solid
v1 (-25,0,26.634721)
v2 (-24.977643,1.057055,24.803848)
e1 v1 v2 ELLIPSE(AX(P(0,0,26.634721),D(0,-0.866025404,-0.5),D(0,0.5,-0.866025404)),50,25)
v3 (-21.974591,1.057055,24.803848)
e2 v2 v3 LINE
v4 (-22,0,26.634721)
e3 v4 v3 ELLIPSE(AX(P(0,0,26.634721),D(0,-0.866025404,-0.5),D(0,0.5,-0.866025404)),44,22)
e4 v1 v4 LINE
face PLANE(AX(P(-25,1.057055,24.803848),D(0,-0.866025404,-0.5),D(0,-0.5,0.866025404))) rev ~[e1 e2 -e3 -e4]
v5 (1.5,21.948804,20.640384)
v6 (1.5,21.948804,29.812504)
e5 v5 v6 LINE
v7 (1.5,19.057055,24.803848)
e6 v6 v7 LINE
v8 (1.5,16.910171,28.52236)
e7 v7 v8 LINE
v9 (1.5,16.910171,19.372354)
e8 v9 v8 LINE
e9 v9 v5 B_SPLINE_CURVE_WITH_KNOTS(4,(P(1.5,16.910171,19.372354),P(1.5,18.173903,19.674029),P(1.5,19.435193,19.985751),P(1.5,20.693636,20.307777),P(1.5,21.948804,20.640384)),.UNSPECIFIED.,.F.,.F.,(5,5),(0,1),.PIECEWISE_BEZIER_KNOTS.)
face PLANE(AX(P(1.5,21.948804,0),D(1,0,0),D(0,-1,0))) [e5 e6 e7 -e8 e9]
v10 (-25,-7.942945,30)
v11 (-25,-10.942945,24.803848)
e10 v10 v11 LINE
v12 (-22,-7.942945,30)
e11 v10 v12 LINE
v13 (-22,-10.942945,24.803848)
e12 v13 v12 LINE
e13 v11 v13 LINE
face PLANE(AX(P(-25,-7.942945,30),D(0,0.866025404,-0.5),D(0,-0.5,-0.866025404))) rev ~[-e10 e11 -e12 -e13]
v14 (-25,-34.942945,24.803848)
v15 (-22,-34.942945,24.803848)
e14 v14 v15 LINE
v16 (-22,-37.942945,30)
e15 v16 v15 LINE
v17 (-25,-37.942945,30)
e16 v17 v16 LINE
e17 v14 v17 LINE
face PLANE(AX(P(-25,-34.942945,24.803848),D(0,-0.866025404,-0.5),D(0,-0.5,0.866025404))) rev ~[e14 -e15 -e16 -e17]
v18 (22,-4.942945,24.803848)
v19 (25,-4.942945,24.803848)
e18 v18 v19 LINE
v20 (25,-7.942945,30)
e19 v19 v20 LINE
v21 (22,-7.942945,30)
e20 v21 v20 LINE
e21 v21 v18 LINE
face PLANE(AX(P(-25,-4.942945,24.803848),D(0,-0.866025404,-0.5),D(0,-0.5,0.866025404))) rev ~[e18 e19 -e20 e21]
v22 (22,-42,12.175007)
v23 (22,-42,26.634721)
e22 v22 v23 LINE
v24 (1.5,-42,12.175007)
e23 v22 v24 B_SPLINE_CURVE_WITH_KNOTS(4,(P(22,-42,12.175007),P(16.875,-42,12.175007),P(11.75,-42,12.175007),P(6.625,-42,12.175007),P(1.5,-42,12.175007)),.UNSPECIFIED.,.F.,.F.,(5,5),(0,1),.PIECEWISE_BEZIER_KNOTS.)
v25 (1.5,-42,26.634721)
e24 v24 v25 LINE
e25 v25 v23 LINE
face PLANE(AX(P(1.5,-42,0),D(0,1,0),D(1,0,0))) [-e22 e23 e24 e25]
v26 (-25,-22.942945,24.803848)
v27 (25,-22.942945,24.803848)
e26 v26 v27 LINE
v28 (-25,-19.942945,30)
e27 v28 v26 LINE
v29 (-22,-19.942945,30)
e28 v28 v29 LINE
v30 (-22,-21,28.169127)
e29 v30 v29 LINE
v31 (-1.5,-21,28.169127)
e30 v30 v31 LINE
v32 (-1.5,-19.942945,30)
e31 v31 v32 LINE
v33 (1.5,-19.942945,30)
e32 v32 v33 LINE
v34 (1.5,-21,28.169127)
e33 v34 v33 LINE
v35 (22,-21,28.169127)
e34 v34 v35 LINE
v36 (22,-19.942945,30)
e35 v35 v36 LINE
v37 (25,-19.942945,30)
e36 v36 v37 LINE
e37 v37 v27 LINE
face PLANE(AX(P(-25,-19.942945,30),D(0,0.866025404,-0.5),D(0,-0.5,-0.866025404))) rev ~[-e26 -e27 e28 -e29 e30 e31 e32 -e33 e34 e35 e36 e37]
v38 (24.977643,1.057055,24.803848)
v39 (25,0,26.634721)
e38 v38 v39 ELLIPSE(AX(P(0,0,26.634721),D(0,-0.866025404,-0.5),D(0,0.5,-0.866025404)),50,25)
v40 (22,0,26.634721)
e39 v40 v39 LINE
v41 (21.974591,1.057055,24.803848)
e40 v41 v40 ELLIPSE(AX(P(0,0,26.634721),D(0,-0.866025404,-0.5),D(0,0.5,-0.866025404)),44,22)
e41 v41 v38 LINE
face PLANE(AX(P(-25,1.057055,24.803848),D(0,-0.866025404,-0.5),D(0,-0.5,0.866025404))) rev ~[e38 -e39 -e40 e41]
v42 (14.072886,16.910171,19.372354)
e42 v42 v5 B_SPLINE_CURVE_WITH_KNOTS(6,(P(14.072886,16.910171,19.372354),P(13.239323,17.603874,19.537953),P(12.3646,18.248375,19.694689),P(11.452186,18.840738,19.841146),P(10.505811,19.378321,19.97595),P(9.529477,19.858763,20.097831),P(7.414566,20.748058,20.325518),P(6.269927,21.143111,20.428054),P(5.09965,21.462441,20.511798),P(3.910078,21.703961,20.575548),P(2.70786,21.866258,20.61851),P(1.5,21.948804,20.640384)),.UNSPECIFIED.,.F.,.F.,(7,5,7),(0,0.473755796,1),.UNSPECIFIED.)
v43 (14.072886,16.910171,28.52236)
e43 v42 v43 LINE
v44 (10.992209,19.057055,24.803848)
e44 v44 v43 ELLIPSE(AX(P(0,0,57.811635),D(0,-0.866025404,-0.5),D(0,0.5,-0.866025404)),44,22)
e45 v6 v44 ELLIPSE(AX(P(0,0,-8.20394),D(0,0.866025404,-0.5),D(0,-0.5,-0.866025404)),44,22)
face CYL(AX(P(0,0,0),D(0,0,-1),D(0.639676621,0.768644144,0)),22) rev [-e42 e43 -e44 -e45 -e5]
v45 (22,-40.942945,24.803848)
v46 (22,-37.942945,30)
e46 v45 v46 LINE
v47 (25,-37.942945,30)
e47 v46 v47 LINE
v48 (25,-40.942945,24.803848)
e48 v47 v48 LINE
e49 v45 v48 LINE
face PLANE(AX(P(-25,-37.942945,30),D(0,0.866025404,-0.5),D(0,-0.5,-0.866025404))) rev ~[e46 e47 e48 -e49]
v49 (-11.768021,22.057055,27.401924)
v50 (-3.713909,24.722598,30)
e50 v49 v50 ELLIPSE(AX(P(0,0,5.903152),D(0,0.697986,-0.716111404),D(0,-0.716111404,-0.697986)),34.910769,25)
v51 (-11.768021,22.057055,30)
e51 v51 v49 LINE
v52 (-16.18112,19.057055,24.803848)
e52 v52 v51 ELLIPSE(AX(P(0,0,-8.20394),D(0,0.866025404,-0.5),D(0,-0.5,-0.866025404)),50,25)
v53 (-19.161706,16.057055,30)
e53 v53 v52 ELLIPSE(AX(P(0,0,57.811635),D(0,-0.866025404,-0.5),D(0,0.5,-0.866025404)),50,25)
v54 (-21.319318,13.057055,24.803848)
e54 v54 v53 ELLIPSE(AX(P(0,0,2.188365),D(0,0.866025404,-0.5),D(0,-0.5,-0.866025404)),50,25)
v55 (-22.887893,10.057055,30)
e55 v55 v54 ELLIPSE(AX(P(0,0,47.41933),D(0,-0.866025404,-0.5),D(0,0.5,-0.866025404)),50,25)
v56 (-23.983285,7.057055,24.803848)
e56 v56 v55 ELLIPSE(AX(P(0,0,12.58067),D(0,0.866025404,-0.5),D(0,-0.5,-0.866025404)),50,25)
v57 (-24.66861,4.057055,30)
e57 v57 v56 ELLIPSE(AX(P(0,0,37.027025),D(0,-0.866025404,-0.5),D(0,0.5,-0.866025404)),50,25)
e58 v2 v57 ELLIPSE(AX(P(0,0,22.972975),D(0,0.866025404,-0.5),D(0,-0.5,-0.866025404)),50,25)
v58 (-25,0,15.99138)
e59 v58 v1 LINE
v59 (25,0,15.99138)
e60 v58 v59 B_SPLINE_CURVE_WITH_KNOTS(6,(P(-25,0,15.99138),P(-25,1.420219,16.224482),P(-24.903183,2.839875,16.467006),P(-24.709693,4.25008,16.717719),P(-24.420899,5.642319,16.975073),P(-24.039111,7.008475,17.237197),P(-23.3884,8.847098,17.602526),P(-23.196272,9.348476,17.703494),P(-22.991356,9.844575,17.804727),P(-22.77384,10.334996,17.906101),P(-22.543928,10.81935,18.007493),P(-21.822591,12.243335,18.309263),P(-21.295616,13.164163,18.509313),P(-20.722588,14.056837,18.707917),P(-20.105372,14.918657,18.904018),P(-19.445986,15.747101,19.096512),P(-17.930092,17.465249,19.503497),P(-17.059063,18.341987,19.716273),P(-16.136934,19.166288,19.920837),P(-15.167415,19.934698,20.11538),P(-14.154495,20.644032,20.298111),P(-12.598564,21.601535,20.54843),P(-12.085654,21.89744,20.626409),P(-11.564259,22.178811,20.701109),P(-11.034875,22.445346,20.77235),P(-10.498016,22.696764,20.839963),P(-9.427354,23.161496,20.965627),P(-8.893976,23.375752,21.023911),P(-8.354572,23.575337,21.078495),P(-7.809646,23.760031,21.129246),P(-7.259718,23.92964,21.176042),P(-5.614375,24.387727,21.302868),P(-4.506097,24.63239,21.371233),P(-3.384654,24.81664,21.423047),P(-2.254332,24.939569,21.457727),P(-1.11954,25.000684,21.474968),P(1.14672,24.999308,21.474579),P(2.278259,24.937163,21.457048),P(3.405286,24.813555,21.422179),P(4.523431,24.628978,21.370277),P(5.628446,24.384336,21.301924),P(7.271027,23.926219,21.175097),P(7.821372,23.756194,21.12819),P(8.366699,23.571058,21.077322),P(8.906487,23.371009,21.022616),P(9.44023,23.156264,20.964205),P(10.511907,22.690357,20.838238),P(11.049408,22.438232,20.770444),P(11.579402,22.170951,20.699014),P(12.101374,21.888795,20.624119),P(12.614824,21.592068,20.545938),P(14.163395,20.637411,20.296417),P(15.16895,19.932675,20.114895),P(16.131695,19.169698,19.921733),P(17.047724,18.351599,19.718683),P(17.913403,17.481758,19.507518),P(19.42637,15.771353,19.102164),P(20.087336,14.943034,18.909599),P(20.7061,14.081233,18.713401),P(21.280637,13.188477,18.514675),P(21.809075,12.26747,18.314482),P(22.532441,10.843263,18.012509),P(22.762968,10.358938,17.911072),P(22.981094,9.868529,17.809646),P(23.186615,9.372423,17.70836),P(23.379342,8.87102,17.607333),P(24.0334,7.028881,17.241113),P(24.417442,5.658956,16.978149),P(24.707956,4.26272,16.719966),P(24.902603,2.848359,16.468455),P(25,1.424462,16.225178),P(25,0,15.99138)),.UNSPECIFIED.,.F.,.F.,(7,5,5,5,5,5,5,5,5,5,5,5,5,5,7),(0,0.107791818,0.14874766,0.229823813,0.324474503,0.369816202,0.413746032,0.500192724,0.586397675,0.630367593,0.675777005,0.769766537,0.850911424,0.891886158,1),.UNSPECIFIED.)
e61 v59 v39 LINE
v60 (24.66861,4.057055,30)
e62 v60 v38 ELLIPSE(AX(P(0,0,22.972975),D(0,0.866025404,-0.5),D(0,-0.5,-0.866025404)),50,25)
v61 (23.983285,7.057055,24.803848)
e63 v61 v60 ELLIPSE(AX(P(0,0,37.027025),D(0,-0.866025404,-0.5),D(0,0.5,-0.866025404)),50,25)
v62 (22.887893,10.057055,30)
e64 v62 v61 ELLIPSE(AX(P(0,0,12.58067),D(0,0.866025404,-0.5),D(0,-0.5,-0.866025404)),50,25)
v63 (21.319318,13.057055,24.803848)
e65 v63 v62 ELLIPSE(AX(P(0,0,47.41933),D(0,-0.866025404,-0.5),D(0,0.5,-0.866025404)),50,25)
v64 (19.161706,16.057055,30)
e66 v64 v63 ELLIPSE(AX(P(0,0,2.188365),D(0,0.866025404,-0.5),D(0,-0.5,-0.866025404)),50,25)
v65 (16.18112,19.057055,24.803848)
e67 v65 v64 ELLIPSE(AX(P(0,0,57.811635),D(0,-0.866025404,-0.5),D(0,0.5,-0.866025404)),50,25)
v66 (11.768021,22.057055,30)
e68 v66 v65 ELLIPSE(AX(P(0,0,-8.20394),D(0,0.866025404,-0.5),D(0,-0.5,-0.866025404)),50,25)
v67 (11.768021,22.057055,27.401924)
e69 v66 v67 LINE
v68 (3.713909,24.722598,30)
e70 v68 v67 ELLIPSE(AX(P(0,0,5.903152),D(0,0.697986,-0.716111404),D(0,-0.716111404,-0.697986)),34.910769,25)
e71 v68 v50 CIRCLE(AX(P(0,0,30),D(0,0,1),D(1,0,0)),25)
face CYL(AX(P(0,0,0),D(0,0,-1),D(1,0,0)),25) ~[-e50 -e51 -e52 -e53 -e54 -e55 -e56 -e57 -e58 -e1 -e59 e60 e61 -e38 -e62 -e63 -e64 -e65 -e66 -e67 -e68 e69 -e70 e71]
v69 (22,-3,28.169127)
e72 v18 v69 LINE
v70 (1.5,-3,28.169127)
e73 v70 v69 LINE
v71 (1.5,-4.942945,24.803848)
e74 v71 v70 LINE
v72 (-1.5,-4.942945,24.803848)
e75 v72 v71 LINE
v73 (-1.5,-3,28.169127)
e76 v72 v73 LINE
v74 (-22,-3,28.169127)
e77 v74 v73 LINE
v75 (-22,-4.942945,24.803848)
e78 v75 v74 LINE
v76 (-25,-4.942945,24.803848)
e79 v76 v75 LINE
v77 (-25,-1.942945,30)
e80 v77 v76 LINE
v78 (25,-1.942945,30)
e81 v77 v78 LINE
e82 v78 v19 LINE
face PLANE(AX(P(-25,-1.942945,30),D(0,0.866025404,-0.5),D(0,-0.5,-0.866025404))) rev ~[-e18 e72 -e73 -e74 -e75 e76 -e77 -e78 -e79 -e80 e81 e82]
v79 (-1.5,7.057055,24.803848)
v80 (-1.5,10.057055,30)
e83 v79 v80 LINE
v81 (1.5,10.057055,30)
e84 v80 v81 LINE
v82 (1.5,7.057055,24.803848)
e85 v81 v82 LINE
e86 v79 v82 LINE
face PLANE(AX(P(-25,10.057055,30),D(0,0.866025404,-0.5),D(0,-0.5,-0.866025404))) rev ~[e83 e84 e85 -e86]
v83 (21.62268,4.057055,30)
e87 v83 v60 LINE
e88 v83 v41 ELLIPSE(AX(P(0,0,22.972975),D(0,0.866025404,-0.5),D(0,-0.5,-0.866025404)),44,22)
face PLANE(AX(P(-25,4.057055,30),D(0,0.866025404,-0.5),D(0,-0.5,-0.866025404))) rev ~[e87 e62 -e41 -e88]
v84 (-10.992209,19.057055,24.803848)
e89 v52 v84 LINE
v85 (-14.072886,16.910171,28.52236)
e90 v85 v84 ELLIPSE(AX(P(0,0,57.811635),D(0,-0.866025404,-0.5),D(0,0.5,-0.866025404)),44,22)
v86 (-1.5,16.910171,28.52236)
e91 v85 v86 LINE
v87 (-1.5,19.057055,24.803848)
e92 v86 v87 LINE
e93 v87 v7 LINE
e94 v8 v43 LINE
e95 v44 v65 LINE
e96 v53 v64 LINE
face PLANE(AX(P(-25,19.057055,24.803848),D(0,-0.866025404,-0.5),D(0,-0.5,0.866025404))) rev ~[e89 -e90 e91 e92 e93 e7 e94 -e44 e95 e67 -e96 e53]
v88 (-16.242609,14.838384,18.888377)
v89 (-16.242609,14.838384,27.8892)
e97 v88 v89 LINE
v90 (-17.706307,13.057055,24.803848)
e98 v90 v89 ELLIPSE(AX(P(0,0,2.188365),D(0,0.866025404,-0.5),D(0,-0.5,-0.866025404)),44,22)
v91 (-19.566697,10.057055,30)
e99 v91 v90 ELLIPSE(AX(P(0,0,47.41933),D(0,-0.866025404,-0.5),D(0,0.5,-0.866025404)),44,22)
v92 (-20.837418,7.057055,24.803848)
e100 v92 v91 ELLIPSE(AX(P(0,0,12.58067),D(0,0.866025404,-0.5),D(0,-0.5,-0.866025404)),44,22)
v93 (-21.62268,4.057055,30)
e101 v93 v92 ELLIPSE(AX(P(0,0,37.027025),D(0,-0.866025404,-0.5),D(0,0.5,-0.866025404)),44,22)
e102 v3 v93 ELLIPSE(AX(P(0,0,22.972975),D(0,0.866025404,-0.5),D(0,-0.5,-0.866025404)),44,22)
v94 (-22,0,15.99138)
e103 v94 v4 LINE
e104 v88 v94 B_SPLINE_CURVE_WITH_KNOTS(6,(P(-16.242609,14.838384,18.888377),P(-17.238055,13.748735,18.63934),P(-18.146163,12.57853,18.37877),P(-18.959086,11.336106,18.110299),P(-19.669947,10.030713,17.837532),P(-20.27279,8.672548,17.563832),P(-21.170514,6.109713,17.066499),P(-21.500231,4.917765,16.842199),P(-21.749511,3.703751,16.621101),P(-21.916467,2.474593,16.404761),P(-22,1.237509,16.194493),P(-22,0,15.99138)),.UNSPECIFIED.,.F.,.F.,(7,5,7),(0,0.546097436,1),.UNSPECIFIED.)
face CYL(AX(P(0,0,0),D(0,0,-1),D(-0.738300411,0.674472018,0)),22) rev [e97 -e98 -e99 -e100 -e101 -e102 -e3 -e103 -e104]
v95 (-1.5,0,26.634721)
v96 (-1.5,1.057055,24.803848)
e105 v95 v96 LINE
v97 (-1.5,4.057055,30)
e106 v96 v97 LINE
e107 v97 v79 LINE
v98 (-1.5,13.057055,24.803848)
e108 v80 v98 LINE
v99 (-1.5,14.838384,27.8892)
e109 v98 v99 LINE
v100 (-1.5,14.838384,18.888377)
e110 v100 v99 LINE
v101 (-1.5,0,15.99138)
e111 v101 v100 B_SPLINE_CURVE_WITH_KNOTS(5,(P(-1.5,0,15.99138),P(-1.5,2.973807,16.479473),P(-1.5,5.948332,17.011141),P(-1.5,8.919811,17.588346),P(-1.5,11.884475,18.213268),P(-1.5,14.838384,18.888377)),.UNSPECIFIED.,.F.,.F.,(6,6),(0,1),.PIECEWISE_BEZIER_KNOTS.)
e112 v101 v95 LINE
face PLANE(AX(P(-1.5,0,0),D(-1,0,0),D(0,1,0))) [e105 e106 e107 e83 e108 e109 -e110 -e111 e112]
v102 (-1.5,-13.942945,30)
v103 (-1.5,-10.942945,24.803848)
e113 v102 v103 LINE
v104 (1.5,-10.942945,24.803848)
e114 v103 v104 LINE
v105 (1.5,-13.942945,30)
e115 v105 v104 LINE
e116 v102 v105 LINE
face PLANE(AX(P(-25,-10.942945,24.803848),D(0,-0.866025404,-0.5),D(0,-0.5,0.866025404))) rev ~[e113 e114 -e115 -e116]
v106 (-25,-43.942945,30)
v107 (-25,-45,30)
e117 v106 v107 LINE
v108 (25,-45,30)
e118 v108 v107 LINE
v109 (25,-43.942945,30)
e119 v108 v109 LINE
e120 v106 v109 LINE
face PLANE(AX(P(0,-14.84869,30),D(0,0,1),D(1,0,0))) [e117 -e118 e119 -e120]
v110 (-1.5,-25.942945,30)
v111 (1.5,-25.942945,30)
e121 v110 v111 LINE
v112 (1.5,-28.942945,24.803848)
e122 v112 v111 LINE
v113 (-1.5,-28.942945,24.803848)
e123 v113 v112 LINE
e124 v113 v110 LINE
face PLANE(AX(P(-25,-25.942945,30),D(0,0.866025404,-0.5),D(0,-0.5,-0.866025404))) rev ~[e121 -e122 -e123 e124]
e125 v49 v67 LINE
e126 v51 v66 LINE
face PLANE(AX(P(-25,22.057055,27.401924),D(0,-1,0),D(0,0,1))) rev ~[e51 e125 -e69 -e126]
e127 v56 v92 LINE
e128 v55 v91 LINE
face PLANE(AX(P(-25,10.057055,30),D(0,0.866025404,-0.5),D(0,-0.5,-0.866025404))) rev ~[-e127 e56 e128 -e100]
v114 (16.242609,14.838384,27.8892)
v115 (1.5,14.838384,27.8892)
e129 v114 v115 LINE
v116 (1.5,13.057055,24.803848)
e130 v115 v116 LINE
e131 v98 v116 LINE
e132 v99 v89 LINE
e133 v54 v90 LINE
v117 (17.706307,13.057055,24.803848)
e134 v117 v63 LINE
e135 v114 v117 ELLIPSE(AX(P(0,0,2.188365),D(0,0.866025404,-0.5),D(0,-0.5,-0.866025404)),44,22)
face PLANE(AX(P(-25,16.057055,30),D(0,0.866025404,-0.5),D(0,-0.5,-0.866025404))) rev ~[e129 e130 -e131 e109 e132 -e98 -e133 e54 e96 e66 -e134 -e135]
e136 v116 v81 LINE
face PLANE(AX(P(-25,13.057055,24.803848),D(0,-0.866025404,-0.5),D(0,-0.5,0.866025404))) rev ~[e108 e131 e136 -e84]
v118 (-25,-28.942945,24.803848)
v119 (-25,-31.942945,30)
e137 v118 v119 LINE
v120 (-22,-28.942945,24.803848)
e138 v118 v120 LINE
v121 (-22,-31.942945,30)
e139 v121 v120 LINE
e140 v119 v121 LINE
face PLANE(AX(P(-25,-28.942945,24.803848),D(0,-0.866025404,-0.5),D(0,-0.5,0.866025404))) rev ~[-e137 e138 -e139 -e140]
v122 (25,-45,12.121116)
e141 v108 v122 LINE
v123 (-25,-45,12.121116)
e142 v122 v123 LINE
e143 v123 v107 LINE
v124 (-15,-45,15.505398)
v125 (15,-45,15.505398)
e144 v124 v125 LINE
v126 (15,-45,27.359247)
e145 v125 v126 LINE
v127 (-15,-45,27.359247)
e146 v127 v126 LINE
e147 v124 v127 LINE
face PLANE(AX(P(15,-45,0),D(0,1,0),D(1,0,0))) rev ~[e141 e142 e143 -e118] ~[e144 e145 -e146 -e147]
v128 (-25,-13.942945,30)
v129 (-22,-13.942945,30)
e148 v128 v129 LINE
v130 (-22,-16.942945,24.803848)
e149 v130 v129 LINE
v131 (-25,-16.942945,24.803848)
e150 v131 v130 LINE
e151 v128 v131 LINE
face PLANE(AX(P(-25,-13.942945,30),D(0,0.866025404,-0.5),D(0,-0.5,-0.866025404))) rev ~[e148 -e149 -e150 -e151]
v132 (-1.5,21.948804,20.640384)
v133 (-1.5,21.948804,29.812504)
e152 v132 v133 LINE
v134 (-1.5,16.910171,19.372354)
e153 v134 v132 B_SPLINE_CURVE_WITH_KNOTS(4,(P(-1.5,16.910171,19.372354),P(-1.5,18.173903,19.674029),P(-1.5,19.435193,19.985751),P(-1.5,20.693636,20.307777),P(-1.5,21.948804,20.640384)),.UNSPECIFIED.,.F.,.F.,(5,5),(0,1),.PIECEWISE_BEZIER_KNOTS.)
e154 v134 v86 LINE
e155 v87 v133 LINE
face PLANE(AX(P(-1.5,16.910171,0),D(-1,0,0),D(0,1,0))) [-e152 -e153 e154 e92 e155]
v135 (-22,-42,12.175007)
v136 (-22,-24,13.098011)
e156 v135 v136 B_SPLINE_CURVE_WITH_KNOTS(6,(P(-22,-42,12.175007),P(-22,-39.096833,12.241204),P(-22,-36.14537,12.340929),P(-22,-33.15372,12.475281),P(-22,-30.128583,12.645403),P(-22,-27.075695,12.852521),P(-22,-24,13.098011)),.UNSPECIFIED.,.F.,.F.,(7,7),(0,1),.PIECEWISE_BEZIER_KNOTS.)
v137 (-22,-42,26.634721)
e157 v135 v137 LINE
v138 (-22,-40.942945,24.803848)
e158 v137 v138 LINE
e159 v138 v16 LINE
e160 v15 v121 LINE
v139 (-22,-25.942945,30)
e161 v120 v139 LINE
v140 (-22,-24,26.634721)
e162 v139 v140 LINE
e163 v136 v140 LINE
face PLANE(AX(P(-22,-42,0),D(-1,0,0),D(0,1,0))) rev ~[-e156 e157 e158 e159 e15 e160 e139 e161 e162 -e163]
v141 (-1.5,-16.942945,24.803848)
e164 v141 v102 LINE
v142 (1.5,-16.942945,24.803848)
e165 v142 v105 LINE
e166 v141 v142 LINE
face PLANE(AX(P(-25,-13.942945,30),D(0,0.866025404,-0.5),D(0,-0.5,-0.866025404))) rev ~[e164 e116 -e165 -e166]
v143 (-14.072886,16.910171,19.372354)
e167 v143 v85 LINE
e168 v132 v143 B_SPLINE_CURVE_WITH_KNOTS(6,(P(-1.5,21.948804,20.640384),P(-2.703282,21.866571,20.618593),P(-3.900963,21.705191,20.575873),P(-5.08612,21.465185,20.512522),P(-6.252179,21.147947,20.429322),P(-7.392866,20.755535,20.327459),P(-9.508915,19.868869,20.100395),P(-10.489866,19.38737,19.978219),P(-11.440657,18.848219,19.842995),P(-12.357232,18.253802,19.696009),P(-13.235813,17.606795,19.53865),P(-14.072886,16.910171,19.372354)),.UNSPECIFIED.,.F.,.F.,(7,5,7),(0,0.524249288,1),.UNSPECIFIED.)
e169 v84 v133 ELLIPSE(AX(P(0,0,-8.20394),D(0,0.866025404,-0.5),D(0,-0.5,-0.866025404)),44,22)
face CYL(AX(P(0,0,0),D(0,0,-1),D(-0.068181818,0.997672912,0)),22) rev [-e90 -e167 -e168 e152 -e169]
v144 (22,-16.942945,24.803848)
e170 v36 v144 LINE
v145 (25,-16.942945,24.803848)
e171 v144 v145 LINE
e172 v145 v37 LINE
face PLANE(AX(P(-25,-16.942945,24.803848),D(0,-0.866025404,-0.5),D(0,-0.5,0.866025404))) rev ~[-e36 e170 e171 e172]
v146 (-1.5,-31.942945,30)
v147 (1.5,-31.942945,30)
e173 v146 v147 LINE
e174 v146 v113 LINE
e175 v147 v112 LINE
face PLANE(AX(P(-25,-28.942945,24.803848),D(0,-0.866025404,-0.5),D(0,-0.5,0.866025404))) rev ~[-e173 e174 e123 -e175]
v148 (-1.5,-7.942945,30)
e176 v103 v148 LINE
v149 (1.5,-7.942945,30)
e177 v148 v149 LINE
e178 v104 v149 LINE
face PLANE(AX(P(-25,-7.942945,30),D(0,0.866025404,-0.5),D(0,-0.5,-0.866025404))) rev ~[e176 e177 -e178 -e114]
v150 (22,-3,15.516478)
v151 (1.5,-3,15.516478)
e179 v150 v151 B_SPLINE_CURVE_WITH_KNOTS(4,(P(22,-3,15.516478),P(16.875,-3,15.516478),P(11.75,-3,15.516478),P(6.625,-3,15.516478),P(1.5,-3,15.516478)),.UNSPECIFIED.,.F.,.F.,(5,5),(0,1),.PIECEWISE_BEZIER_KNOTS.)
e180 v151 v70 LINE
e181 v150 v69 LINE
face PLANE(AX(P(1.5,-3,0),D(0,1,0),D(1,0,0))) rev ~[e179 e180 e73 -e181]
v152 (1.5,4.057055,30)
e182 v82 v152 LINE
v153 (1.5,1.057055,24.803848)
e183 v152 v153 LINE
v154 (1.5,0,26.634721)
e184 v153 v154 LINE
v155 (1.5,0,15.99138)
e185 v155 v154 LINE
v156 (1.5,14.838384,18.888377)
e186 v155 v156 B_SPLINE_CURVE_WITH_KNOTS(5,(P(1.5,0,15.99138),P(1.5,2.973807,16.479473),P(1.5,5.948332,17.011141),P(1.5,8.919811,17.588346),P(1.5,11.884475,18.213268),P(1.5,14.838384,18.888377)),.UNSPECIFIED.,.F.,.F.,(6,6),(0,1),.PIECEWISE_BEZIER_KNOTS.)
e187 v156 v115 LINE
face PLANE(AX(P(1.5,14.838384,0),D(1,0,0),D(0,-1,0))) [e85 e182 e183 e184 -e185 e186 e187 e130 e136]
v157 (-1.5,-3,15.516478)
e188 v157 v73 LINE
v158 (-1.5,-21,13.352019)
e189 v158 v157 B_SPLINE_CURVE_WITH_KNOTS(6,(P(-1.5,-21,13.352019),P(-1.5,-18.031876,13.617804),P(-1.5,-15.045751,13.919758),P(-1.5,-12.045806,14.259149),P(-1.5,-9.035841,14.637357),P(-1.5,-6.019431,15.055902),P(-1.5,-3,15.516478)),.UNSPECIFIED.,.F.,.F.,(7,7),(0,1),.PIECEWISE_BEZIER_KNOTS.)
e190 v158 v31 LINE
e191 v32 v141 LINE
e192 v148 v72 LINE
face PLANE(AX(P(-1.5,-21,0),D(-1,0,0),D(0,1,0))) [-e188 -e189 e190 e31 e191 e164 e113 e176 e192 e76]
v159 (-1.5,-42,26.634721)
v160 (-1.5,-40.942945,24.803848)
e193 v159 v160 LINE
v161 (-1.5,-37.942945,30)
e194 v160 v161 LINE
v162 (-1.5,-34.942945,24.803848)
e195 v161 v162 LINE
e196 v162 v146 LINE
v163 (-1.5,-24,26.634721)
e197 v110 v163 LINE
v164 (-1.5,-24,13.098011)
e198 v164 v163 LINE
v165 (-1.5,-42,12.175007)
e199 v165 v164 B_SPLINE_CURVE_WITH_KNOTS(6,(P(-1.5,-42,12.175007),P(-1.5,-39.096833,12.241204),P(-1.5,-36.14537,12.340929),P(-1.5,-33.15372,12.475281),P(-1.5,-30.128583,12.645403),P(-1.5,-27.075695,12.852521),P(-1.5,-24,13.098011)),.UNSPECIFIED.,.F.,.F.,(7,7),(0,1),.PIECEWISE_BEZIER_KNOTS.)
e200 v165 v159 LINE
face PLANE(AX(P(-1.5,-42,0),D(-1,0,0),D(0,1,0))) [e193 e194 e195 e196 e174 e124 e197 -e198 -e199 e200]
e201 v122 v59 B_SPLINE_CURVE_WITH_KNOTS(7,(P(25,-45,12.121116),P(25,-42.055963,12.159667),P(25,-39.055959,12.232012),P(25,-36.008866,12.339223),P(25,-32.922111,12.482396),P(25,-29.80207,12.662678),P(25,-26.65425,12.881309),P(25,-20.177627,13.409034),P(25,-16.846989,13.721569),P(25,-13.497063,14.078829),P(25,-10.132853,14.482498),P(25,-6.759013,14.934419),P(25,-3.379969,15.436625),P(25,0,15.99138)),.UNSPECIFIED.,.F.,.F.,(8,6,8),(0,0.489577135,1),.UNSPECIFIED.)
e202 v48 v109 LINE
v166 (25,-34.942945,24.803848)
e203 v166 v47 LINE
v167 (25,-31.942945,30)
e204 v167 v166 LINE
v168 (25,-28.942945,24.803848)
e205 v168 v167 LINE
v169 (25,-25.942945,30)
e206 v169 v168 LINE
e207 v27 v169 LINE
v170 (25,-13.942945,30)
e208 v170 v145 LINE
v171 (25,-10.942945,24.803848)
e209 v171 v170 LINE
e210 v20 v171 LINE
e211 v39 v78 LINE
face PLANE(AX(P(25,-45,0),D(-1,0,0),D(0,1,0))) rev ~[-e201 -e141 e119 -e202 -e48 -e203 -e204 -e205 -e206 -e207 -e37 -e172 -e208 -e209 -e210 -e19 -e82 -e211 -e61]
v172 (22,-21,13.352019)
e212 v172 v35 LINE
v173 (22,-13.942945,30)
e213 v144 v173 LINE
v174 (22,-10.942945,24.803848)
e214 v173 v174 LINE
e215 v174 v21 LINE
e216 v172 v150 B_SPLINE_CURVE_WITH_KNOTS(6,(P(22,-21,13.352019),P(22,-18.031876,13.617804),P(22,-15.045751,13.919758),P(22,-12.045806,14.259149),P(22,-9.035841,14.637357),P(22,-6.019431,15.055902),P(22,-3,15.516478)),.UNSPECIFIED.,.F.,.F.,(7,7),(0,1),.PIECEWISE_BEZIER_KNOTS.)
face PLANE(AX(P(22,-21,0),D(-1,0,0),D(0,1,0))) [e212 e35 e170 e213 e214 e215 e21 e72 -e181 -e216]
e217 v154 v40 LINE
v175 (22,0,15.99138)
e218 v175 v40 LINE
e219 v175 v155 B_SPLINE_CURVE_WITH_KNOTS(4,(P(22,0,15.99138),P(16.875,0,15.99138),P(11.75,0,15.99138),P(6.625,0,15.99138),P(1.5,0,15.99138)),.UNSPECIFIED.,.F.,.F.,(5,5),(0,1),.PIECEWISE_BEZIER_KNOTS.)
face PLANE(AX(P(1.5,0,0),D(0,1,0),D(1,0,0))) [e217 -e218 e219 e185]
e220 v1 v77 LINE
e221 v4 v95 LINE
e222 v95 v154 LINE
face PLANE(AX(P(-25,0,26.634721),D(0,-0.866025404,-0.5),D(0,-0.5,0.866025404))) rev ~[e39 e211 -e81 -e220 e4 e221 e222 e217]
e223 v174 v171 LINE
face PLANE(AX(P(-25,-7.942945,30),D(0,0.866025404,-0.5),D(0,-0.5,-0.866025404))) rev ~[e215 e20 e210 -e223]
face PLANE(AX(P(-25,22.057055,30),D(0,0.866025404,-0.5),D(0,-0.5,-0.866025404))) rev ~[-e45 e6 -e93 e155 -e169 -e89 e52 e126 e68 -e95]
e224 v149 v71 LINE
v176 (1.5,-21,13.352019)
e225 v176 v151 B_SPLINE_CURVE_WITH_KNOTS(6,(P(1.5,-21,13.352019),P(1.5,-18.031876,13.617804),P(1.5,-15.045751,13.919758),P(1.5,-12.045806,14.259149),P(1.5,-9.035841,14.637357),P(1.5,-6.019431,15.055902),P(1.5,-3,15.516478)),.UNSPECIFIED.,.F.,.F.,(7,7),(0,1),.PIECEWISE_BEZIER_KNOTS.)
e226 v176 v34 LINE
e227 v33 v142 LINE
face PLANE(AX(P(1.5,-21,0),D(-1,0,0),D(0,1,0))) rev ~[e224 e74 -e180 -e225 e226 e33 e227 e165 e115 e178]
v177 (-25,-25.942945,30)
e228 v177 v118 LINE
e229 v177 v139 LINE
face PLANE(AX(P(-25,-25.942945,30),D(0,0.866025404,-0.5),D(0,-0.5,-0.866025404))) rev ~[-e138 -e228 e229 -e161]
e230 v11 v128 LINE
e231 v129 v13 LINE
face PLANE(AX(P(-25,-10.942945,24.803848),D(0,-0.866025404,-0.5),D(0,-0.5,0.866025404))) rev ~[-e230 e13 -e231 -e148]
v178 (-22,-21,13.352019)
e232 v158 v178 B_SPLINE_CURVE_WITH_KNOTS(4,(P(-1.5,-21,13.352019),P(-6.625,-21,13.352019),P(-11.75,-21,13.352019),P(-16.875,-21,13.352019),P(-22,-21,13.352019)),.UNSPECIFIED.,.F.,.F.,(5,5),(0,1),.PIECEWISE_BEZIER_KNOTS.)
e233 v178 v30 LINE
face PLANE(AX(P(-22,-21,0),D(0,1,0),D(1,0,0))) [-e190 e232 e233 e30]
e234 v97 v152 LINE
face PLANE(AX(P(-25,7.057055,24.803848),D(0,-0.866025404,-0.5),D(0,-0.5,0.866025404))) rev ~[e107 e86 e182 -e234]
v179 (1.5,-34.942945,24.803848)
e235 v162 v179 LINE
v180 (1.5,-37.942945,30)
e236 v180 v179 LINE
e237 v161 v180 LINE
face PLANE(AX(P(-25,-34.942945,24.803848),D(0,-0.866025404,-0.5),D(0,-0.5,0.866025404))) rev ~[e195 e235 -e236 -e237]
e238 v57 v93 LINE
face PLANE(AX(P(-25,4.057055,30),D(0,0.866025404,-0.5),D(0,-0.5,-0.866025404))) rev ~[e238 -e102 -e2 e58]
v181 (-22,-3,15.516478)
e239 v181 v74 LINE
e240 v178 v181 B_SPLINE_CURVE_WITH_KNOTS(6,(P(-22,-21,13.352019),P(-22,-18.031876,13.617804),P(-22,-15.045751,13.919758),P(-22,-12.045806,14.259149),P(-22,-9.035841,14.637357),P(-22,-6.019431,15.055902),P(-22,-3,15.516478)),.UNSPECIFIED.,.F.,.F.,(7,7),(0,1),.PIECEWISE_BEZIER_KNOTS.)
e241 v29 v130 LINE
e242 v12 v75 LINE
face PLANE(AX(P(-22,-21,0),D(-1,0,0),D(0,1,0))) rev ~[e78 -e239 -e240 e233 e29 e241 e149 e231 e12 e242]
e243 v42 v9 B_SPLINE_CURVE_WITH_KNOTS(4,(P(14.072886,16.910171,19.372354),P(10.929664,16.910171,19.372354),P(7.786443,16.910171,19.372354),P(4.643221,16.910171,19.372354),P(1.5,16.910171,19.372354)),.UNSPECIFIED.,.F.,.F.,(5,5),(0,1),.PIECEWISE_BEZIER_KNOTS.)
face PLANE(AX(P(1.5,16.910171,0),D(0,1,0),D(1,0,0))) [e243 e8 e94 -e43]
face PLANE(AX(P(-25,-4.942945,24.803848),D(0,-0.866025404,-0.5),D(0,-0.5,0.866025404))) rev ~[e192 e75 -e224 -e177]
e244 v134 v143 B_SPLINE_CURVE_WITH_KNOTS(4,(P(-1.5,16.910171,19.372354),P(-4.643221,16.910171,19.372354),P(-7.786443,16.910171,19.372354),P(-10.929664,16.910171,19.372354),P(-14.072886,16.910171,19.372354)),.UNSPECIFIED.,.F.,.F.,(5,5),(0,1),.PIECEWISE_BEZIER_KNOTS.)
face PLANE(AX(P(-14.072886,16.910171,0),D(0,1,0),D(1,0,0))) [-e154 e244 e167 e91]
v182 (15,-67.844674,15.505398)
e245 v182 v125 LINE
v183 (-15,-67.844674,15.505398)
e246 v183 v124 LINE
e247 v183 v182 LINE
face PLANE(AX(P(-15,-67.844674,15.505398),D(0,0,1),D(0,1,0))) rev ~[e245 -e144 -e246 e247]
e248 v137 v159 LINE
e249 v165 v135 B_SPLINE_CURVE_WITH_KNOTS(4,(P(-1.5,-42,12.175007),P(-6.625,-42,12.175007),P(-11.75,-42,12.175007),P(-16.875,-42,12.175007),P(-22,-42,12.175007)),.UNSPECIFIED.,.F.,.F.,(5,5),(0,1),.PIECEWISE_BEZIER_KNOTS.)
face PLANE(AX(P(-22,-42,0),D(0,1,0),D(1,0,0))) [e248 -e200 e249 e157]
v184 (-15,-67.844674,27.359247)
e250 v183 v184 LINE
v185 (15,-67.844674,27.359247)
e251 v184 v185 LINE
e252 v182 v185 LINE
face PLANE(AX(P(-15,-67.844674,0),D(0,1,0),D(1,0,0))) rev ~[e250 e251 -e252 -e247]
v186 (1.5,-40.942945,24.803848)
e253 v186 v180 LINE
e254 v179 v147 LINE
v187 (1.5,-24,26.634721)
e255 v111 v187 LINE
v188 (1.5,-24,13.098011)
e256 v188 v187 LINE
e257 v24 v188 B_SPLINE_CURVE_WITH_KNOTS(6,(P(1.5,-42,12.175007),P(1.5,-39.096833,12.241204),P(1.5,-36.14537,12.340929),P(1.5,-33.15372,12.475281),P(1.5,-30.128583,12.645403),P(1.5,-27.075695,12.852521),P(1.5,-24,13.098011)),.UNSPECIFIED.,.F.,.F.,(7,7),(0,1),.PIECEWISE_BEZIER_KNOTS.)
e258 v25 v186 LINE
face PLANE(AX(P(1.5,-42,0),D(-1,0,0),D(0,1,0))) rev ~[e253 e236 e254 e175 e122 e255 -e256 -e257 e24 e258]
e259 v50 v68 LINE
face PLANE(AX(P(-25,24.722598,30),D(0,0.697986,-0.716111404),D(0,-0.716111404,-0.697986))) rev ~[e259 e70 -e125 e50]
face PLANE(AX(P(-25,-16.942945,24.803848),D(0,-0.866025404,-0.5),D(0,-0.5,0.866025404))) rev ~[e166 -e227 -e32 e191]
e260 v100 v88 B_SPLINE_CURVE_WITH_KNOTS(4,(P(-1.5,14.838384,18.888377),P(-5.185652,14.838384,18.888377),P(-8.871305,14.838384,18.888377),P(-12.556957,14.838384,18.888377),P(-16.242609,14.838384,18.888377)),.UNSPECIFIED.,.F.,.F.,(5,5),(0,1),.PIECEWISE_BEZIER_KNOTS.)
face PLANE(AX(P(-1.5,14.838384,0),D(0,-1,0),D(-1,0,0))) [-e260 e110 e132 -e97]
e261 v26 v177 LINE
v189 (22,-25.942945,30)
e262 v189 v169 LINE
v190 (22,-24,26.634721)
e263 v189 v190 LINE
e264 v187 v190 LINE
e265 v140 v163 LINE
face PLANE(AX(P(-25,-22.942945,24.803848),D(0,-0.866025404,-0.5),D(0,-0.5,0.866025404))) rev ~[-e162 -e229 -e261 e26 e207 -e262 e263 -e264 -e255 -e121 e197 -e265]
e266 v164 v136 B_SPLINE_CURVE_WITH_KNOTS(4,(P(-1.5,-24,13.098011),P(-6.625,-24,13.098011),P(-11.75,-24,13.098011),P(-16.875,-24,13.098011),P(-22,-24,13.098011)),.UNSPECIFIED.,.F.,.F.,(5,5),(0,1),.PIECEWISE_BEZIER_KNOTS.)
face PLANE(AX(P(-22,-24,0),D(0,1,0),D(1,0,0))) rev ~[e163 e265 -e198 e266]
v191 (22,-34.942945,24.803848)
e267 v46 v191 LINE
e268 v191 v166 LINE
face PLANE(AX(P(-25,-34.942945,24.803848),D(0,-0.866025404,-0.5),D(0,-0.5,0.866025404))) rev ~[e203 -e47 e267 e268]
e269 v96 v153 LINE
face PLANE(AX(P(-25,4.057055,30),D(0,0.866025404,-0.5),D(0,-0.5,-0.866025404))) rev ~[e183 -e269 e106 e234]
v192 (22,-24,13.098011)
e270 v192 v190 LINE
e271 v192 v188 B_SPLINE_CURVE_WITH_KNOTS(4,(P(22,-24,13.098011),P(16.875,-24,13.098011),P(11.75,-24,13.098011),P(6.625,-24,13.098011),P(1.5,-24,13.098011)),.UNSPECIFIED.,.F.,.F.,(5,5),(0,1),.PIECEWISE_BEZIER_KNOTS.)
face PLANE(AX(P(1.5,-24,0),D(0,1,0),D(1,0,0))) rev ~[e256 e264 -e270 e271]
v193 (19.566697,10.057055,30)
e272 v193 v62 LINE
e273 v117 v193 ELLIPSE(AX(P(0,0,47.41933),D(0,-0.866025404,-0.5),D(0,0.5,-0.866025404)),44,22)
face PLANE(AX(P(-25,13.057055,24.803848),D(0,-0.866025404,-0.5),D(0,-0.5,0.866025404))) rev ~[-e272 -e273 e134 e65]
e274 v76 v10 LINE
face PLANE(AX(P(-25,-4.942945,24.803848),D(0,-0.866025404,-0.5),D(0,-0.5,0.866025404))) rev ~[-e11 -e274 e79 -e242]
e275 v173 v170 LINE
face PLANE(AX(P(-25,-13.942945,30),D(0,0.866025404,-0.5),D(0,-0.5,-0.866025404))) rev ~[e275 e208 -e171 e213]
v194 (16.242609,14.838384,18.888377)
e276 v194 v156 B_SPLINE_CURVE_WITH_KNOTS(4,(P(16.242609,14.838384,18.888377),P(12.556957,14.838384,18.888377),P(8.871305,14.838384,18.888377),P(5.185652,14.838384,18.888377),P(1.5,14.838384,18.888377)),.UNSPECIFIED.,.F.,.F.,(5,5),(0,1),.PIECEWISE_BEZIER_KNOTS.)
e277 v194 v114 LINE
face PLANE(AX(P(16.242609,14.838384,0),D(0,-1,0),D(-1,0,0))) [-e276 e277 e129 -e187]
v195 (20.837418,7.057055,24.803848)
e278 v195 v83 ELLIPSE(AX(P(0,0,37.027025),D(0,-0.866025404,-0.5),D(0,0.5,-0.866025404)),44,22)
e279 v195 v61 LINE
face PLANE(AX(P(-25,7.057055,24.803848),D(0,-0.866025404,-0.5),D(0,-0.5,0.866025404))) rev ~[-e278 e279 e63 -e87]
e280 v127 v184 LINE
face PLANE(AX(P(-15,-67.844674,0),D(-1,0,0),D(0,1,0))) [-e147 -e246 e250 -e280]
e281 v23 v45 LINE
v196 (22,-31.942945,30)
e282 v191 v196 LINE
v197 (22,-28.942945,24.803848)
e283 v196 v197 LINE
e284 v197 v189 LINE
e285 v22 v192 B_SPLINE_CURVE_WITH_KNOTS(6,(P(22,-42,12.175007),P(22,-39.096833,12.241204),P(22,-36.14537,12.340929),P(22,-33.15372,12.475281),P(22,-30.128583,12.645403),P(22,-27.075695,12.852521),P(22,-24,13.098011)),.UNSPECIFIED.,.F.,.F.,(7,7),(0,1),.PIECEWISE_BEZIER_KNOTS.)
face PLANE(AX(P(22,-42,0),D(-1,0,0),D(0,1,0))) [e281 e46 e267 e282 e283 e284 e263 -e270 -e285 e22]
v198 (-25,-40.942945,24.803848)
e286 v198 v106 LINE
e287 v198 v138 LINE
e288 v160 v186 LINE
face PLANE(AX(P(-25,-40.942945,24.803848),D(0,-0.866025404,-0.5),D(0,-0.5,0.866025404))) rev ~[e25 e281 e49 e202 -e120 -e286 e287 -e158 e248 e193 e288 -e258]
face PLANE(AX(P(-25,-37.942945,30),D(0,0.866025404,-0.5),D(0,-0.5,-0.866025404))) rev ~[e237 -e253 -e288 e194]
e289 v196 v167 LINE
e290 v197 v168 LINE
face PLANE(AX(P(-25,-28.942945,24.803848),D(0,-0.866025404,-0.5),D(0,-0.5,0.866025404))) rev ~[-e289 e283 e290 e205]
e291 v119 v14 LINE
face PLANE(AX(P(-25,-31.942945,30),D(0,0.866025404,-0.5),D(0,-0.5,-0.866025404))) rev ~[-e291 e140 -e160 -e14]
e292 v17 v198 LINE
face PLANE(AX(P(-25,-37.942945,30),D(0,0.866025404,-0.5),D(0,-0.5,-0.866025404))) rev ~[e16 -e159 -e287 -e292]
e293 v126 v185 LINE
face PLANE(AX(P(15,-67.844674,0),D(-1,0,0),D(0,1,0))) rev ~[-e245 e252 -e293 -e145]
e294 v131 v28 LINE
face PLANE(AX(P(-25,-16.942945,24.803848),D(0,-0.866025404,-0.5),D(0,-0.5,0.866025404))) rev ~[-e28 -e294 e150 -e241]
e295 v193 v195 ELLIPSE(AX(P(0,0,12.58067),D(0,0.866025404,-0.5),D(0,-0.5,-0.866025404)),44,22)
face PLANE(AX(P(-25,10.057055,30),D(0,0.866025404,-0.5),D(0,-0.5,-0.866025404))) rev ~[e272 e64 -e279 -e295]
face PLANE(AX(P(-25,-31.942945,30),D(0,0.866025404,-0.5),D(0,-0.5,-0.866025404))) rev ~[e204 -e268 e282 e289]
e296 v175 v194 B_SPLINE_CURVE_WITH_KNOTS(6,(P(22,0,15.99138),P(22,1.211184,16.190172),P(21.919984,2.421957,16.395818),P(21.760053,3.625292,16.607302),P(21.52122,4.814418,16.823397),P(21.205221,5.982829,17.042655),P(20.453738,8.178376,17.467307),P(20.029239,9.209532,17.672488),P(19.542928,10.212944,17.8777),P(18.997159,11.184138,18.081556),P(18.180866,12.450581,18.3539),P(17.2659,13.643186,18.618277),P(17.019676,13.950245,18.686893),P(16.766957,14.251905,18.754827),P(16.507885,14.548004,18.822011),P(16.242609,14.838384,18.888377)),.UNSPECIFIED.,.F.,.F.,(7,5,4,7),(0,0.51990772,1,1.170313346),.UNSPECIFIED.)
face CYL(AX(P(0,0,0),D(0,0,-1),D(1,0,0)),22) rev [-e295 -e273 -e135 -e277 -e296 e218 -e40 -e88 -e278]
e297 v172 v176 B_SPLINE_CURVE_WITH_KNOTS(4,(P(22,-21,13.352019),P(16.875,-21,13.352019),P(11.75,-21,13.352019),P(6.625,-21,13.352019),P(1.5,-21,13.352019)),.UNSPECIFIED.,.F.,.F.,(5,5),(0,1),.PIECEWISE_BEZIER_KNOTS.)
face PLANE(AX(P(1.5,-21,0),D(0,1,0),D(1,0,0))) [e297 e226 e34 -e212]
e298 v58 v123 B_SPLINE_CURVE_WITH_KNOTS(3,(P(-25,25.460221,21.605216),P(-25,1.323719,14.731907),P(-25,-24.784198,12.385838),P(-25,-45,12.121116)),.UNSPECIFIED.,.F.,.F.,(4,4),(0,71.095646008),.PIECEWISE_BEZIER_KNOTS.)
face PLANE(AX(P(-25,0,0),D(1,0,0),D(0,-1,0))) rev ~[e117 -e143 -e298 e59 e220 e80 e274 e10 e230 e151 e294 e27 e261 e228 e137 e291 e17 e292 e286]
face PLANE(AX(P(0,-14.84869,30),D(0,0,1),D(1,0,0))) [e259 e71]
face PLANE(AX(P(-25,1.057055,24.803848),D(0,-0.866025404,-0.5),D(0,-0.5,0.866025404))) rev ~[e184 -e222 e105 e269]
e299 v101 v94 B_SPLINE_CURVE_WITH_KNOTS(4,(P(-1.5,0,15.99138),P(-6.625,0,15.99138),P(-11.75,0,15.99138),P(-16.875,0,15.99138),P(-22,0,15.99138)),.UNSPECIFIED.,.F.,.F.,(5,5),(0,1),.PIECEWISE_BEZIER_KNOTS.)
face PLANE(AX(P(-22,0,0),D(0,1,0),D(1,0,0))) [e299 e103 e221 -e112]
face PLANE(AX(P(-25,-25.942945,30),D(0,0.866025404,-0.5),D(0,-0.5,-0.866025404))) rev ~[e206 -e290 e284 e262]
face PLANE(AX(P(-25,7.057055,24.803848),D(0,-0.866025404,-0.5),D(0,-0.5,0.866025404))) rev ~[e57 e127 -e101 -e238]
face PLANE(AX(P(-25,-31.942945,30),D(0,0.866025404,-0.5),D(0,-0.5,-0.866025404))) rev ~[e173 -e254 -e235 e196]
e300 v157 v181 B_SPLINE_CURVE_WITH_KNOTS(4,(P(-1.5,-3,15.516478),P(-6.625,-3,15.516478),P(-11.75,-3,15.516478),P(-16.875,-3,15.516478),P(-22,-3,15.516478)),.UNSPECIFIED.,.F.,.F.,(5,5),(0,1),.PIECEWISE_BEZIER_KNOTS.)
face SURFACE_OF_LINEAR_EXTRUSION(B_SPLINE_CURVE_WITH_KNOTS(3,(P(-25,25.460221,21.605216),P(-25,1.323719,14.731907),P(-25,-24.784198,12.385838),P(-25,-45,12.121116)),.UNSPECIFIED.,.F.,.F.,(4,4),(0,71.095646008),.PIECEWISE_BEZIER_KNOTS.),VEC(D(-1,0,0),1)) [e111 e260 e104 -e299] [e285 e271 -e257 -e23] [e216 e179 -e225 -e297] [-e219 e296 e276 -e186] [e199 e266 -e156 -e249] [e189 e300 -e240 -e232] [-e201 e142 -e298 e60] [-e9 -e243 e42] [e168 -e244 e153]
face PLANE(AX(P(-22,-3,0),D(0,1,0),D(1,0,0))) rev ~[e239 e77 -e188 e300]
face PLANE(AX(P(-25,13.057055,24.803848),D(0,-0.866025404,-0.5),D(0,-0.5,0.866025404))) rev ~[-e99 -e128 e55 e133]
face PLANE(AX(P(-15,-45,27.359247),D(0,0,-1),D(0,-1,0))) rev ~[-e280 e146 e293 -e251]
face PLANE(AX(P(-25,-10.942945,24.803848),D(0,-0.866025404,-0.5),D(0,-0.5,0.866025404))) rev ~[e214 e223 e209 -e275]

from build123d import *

# Parameters (mm, degrees)
F0_W      = 30
F0_H      = 22.8446739912
F1_DEPTH  = 30
F3_DEPTH  = 50.001
F5_DEPTH  = 50.001
F6_W      = 20.5
F6_H      = 18
F7_DEPTH  = 30.001
F8_W      = 23.6850994825
F8_H      = 6.8956923813
F9_DEPTH  = 50.001
F11_DEPTH = 50.001
F12_W     = 22.8446739912
F12_H     = 2.6407527924
F13_DEPTH = 40.0010001


with BuildPart() as f1:
    # F0 (on Top) → F1 (new body)
    with BuildSketch(Plane.XY):
        with BuildLine():
            ThreePointArc((25, 0), (0, 25), (-25, 0))
            Line((-25, 0), (-25, -45))
            Line((-25, -45), (-15, -45))
            Line((-15, -45), (15, -45))
            Line((15, -45), (25, -45))
            Line((25, -45), (25, 0))
        make_face()
        with Locations((0, -56.4223369956)):
            Rectangle(F0_W, F0_H)
    extrude(amount=F1_DEPTH)

    # F2 (on face) → F3 (cut, through all)
    with BuildSketch(Plane(origin=(-25, 0, 0), x_dir=(0, -1, 0), z_dir=(-1, 0, 0))):
        Polygon((0, 0), (0, 6.8956923813), (-25.6583113223, 19.2217491567), (-25.6583113223, 0), align=None)
        Polygon((0, 0), (14.3542923033, 0), (0, 6.8956923813), align=None)
    extrude(amount=-F3_DEPTH, mode=Mode.SUBTRACT)

    # F4 (on face) → F5 (cut, through all)
    with BuildSketch(Plane(origin=(-25, 0, 0), x_dir=(0, -1, 0), z_dir=(-1, 0, 0))):
        Polygon((-22.0570550542, 27.4019237886), (-22.0570550542, 30), (-24.7225984931, 30), align=None)
        Polygon((-19.0570550542, 24.8038475773), (-16.0570550542, 30), (-22.0570550542, 30), align=None)
        Polygon((-13.0570550542, 24.8038475773), (-10.0570550542, 30), (-16.0570550542, 30), align=None)
        Polygon((-7.0570550542, 24.8038475773), (-4.0570550542, 30), (-10.0570550542, 30), align=None)
        Polygon((-1.0570550542, 24.8038475773), (0, 26.6347206375), (0, 30), (-4.0570550542, 30), align=None)
        Polygon((0, 30), (0, 26.6347206375), (1.9429449458, 30), align=None)
        Polygon((4.9429449458, 24.8038475773), (7.9429449458, 30), (1.9429449458, 30), align=None)
        Polygon((10.9429449458, 24.8038475773), (13.9429449458, 30), (7.9429449458, 30), align=None)
        Polygon((16.9429449458, 24.8038475773), (19.9429449458, 30), (13.9429449458, 30), align=None)
        Polygon((22.9429449458, 24.8038475773), (25.9429449458, 30), (19.9429449458, 30), align=None)
        Polygon((28.9429449458, 24.8038475773), (31.9429449458, 30), (25.9429449458, 30), align=None)
        Polygon((34.9429449458, 24.8038475773), (37.9429449458, 30), (31.9429449458, 30), align=None)
        Polygon((40.9429449458, 24.8038475773), (43.9429449458, 30), (37.9429449458, 30), align=None)
    extrude(amount=-F5_DEPTH, mode=Mode.SUBTRACT)

    # F6 (on Top) → F7 (cut, through all)
    with BuildSketch(Plane.XY):
        with BuildLine():
            ThreePointArc((14.0728856666, 16.9101711705), (8.1838650627, 20.4211741248), (1.5, 21.9488040676))
            Line((1.5, 21.9488040676), (1.5, 16.9101711705))
            Line((1.5, 16.9101711705), (14.0728856666, 16.9101711705))
        make_face()
        with BuildLine():
            ThreePointArc((-1.5, 21.9488040676), (-8.1838650627, 20.4211741248), (-14.0728856666, 16.9101711705))
            Line((-14.0728856666, 16.9101711705), (-1.5, 16.9101711705))
            Line((-1.5, 16.9101711705), (-1.5, 21.9488040676))
        make_face()
        with BuildLine():
            Line((1.5, 14.8383843921), (1.5, 0))
            Line((1.5, 0), (22, 0))
            ThreePointArc((22, 0), (20.5102096408, 7.9580965369), (16.2426090463, 14.8383843921))
            Line((16.2426090463, 14.8383843921), (1.5, 14.8383843921))
        make_face()
        with BuildLine():
            ThreePointArc((-16.2426090463, 14.8383843921), (-20.5102096408, 7.9580965369), (-22, 0))
            Line((-22, 0), (-1.5, 0))
            Line((-1.5, 0), (-1.5, 14.8383843921))
            Line((-1.5, 14.8383843921), (-16.2426090463, 14.8383843921))
        make_face()
        with Locations((-11.75, -12)):
            Rectangle(F6_W, F6_H)
        with Locations((-11.75, -33)):
            Rectangle(F6_W, F6_H)
        with Locations((11.75, -12)):
            Rectangle(F6_W, F6_H)
        with Locations((11.75, -33)):
            Rectangle(F6_W, F6_H)
    extrude(amount=F7_DEPTH, mode=Mode.SUBTRACT)

    # F8 (on face) → F9 (cut, through all)
    with BuildSketch(Plane(origin=(-25, 0, 0), x_dir=(0, -1, 0), z_dir=(-1, 0, 0))):
        with Locations((56.8425497413, 3.4478461906)):
            Rectangle(F8_W, F8_H)
        Polygon((0, 6.8956923813), (14.3542923033, 0), (45, 0), (45, 6.8956923813), align=None)
    extrude(amount=-F9_DEPTH, mode=Mode.SUBTRACT)

    # F10 (on face) → F11 (cut, through all)
    with BuildSketch(Plane(origin=(-25, 0, 0), x_dir=(0, -1, 0), z_dir=(-1, 0, 0))):
        with BuildLine():
            add(Edge.make_bspline(
                [(-25.4602208734, 21.6052159667), (-1.3237191597, 14.7319072857), (24.7841980308, 12.3858377337), (45, 12.1211158112)],
                knots=[0, 0, 0, 0, 71.0956460079, 71.0956460079, 71.0956460079, 71.0956460079], degree=3))
            Line((-25.4602208734, 21.6052159667), (-25.4602208734, 18.728017807))
            Line((-25.4602208734, 18.728017807), (0, 6.8956923813))
            Line((0, 6.8956923813), (45, 6.8956923813))
            Line((45, 6.8956923813), (45, 12.1211158112))
        make_face()
    extrude(amount=-F11_DEPTH, mode=Mode.SUBTRACT)

    # F12 (on face) → F13 (cut, through all)
    with BuildSketch(Plane(origin=(-15, 0, 0), x_dir=(0, -1, 0), z_dir=(-1, 0, 0))):
        with Locations((56.4223369956, 28.6796236038)):
            Rectangle(F12_W, F12_H)
        Polygon((67.8446739912, 15.5053976923), (45, 15.5053976923), (45, 12.1211158112), (45, 6.8956923813), (67.8446739912, 6.8956923813), align=None)
    extrude(amount=-F13_DEPTH, mode=Mode.SUBTRACT)


solid = f1.part
